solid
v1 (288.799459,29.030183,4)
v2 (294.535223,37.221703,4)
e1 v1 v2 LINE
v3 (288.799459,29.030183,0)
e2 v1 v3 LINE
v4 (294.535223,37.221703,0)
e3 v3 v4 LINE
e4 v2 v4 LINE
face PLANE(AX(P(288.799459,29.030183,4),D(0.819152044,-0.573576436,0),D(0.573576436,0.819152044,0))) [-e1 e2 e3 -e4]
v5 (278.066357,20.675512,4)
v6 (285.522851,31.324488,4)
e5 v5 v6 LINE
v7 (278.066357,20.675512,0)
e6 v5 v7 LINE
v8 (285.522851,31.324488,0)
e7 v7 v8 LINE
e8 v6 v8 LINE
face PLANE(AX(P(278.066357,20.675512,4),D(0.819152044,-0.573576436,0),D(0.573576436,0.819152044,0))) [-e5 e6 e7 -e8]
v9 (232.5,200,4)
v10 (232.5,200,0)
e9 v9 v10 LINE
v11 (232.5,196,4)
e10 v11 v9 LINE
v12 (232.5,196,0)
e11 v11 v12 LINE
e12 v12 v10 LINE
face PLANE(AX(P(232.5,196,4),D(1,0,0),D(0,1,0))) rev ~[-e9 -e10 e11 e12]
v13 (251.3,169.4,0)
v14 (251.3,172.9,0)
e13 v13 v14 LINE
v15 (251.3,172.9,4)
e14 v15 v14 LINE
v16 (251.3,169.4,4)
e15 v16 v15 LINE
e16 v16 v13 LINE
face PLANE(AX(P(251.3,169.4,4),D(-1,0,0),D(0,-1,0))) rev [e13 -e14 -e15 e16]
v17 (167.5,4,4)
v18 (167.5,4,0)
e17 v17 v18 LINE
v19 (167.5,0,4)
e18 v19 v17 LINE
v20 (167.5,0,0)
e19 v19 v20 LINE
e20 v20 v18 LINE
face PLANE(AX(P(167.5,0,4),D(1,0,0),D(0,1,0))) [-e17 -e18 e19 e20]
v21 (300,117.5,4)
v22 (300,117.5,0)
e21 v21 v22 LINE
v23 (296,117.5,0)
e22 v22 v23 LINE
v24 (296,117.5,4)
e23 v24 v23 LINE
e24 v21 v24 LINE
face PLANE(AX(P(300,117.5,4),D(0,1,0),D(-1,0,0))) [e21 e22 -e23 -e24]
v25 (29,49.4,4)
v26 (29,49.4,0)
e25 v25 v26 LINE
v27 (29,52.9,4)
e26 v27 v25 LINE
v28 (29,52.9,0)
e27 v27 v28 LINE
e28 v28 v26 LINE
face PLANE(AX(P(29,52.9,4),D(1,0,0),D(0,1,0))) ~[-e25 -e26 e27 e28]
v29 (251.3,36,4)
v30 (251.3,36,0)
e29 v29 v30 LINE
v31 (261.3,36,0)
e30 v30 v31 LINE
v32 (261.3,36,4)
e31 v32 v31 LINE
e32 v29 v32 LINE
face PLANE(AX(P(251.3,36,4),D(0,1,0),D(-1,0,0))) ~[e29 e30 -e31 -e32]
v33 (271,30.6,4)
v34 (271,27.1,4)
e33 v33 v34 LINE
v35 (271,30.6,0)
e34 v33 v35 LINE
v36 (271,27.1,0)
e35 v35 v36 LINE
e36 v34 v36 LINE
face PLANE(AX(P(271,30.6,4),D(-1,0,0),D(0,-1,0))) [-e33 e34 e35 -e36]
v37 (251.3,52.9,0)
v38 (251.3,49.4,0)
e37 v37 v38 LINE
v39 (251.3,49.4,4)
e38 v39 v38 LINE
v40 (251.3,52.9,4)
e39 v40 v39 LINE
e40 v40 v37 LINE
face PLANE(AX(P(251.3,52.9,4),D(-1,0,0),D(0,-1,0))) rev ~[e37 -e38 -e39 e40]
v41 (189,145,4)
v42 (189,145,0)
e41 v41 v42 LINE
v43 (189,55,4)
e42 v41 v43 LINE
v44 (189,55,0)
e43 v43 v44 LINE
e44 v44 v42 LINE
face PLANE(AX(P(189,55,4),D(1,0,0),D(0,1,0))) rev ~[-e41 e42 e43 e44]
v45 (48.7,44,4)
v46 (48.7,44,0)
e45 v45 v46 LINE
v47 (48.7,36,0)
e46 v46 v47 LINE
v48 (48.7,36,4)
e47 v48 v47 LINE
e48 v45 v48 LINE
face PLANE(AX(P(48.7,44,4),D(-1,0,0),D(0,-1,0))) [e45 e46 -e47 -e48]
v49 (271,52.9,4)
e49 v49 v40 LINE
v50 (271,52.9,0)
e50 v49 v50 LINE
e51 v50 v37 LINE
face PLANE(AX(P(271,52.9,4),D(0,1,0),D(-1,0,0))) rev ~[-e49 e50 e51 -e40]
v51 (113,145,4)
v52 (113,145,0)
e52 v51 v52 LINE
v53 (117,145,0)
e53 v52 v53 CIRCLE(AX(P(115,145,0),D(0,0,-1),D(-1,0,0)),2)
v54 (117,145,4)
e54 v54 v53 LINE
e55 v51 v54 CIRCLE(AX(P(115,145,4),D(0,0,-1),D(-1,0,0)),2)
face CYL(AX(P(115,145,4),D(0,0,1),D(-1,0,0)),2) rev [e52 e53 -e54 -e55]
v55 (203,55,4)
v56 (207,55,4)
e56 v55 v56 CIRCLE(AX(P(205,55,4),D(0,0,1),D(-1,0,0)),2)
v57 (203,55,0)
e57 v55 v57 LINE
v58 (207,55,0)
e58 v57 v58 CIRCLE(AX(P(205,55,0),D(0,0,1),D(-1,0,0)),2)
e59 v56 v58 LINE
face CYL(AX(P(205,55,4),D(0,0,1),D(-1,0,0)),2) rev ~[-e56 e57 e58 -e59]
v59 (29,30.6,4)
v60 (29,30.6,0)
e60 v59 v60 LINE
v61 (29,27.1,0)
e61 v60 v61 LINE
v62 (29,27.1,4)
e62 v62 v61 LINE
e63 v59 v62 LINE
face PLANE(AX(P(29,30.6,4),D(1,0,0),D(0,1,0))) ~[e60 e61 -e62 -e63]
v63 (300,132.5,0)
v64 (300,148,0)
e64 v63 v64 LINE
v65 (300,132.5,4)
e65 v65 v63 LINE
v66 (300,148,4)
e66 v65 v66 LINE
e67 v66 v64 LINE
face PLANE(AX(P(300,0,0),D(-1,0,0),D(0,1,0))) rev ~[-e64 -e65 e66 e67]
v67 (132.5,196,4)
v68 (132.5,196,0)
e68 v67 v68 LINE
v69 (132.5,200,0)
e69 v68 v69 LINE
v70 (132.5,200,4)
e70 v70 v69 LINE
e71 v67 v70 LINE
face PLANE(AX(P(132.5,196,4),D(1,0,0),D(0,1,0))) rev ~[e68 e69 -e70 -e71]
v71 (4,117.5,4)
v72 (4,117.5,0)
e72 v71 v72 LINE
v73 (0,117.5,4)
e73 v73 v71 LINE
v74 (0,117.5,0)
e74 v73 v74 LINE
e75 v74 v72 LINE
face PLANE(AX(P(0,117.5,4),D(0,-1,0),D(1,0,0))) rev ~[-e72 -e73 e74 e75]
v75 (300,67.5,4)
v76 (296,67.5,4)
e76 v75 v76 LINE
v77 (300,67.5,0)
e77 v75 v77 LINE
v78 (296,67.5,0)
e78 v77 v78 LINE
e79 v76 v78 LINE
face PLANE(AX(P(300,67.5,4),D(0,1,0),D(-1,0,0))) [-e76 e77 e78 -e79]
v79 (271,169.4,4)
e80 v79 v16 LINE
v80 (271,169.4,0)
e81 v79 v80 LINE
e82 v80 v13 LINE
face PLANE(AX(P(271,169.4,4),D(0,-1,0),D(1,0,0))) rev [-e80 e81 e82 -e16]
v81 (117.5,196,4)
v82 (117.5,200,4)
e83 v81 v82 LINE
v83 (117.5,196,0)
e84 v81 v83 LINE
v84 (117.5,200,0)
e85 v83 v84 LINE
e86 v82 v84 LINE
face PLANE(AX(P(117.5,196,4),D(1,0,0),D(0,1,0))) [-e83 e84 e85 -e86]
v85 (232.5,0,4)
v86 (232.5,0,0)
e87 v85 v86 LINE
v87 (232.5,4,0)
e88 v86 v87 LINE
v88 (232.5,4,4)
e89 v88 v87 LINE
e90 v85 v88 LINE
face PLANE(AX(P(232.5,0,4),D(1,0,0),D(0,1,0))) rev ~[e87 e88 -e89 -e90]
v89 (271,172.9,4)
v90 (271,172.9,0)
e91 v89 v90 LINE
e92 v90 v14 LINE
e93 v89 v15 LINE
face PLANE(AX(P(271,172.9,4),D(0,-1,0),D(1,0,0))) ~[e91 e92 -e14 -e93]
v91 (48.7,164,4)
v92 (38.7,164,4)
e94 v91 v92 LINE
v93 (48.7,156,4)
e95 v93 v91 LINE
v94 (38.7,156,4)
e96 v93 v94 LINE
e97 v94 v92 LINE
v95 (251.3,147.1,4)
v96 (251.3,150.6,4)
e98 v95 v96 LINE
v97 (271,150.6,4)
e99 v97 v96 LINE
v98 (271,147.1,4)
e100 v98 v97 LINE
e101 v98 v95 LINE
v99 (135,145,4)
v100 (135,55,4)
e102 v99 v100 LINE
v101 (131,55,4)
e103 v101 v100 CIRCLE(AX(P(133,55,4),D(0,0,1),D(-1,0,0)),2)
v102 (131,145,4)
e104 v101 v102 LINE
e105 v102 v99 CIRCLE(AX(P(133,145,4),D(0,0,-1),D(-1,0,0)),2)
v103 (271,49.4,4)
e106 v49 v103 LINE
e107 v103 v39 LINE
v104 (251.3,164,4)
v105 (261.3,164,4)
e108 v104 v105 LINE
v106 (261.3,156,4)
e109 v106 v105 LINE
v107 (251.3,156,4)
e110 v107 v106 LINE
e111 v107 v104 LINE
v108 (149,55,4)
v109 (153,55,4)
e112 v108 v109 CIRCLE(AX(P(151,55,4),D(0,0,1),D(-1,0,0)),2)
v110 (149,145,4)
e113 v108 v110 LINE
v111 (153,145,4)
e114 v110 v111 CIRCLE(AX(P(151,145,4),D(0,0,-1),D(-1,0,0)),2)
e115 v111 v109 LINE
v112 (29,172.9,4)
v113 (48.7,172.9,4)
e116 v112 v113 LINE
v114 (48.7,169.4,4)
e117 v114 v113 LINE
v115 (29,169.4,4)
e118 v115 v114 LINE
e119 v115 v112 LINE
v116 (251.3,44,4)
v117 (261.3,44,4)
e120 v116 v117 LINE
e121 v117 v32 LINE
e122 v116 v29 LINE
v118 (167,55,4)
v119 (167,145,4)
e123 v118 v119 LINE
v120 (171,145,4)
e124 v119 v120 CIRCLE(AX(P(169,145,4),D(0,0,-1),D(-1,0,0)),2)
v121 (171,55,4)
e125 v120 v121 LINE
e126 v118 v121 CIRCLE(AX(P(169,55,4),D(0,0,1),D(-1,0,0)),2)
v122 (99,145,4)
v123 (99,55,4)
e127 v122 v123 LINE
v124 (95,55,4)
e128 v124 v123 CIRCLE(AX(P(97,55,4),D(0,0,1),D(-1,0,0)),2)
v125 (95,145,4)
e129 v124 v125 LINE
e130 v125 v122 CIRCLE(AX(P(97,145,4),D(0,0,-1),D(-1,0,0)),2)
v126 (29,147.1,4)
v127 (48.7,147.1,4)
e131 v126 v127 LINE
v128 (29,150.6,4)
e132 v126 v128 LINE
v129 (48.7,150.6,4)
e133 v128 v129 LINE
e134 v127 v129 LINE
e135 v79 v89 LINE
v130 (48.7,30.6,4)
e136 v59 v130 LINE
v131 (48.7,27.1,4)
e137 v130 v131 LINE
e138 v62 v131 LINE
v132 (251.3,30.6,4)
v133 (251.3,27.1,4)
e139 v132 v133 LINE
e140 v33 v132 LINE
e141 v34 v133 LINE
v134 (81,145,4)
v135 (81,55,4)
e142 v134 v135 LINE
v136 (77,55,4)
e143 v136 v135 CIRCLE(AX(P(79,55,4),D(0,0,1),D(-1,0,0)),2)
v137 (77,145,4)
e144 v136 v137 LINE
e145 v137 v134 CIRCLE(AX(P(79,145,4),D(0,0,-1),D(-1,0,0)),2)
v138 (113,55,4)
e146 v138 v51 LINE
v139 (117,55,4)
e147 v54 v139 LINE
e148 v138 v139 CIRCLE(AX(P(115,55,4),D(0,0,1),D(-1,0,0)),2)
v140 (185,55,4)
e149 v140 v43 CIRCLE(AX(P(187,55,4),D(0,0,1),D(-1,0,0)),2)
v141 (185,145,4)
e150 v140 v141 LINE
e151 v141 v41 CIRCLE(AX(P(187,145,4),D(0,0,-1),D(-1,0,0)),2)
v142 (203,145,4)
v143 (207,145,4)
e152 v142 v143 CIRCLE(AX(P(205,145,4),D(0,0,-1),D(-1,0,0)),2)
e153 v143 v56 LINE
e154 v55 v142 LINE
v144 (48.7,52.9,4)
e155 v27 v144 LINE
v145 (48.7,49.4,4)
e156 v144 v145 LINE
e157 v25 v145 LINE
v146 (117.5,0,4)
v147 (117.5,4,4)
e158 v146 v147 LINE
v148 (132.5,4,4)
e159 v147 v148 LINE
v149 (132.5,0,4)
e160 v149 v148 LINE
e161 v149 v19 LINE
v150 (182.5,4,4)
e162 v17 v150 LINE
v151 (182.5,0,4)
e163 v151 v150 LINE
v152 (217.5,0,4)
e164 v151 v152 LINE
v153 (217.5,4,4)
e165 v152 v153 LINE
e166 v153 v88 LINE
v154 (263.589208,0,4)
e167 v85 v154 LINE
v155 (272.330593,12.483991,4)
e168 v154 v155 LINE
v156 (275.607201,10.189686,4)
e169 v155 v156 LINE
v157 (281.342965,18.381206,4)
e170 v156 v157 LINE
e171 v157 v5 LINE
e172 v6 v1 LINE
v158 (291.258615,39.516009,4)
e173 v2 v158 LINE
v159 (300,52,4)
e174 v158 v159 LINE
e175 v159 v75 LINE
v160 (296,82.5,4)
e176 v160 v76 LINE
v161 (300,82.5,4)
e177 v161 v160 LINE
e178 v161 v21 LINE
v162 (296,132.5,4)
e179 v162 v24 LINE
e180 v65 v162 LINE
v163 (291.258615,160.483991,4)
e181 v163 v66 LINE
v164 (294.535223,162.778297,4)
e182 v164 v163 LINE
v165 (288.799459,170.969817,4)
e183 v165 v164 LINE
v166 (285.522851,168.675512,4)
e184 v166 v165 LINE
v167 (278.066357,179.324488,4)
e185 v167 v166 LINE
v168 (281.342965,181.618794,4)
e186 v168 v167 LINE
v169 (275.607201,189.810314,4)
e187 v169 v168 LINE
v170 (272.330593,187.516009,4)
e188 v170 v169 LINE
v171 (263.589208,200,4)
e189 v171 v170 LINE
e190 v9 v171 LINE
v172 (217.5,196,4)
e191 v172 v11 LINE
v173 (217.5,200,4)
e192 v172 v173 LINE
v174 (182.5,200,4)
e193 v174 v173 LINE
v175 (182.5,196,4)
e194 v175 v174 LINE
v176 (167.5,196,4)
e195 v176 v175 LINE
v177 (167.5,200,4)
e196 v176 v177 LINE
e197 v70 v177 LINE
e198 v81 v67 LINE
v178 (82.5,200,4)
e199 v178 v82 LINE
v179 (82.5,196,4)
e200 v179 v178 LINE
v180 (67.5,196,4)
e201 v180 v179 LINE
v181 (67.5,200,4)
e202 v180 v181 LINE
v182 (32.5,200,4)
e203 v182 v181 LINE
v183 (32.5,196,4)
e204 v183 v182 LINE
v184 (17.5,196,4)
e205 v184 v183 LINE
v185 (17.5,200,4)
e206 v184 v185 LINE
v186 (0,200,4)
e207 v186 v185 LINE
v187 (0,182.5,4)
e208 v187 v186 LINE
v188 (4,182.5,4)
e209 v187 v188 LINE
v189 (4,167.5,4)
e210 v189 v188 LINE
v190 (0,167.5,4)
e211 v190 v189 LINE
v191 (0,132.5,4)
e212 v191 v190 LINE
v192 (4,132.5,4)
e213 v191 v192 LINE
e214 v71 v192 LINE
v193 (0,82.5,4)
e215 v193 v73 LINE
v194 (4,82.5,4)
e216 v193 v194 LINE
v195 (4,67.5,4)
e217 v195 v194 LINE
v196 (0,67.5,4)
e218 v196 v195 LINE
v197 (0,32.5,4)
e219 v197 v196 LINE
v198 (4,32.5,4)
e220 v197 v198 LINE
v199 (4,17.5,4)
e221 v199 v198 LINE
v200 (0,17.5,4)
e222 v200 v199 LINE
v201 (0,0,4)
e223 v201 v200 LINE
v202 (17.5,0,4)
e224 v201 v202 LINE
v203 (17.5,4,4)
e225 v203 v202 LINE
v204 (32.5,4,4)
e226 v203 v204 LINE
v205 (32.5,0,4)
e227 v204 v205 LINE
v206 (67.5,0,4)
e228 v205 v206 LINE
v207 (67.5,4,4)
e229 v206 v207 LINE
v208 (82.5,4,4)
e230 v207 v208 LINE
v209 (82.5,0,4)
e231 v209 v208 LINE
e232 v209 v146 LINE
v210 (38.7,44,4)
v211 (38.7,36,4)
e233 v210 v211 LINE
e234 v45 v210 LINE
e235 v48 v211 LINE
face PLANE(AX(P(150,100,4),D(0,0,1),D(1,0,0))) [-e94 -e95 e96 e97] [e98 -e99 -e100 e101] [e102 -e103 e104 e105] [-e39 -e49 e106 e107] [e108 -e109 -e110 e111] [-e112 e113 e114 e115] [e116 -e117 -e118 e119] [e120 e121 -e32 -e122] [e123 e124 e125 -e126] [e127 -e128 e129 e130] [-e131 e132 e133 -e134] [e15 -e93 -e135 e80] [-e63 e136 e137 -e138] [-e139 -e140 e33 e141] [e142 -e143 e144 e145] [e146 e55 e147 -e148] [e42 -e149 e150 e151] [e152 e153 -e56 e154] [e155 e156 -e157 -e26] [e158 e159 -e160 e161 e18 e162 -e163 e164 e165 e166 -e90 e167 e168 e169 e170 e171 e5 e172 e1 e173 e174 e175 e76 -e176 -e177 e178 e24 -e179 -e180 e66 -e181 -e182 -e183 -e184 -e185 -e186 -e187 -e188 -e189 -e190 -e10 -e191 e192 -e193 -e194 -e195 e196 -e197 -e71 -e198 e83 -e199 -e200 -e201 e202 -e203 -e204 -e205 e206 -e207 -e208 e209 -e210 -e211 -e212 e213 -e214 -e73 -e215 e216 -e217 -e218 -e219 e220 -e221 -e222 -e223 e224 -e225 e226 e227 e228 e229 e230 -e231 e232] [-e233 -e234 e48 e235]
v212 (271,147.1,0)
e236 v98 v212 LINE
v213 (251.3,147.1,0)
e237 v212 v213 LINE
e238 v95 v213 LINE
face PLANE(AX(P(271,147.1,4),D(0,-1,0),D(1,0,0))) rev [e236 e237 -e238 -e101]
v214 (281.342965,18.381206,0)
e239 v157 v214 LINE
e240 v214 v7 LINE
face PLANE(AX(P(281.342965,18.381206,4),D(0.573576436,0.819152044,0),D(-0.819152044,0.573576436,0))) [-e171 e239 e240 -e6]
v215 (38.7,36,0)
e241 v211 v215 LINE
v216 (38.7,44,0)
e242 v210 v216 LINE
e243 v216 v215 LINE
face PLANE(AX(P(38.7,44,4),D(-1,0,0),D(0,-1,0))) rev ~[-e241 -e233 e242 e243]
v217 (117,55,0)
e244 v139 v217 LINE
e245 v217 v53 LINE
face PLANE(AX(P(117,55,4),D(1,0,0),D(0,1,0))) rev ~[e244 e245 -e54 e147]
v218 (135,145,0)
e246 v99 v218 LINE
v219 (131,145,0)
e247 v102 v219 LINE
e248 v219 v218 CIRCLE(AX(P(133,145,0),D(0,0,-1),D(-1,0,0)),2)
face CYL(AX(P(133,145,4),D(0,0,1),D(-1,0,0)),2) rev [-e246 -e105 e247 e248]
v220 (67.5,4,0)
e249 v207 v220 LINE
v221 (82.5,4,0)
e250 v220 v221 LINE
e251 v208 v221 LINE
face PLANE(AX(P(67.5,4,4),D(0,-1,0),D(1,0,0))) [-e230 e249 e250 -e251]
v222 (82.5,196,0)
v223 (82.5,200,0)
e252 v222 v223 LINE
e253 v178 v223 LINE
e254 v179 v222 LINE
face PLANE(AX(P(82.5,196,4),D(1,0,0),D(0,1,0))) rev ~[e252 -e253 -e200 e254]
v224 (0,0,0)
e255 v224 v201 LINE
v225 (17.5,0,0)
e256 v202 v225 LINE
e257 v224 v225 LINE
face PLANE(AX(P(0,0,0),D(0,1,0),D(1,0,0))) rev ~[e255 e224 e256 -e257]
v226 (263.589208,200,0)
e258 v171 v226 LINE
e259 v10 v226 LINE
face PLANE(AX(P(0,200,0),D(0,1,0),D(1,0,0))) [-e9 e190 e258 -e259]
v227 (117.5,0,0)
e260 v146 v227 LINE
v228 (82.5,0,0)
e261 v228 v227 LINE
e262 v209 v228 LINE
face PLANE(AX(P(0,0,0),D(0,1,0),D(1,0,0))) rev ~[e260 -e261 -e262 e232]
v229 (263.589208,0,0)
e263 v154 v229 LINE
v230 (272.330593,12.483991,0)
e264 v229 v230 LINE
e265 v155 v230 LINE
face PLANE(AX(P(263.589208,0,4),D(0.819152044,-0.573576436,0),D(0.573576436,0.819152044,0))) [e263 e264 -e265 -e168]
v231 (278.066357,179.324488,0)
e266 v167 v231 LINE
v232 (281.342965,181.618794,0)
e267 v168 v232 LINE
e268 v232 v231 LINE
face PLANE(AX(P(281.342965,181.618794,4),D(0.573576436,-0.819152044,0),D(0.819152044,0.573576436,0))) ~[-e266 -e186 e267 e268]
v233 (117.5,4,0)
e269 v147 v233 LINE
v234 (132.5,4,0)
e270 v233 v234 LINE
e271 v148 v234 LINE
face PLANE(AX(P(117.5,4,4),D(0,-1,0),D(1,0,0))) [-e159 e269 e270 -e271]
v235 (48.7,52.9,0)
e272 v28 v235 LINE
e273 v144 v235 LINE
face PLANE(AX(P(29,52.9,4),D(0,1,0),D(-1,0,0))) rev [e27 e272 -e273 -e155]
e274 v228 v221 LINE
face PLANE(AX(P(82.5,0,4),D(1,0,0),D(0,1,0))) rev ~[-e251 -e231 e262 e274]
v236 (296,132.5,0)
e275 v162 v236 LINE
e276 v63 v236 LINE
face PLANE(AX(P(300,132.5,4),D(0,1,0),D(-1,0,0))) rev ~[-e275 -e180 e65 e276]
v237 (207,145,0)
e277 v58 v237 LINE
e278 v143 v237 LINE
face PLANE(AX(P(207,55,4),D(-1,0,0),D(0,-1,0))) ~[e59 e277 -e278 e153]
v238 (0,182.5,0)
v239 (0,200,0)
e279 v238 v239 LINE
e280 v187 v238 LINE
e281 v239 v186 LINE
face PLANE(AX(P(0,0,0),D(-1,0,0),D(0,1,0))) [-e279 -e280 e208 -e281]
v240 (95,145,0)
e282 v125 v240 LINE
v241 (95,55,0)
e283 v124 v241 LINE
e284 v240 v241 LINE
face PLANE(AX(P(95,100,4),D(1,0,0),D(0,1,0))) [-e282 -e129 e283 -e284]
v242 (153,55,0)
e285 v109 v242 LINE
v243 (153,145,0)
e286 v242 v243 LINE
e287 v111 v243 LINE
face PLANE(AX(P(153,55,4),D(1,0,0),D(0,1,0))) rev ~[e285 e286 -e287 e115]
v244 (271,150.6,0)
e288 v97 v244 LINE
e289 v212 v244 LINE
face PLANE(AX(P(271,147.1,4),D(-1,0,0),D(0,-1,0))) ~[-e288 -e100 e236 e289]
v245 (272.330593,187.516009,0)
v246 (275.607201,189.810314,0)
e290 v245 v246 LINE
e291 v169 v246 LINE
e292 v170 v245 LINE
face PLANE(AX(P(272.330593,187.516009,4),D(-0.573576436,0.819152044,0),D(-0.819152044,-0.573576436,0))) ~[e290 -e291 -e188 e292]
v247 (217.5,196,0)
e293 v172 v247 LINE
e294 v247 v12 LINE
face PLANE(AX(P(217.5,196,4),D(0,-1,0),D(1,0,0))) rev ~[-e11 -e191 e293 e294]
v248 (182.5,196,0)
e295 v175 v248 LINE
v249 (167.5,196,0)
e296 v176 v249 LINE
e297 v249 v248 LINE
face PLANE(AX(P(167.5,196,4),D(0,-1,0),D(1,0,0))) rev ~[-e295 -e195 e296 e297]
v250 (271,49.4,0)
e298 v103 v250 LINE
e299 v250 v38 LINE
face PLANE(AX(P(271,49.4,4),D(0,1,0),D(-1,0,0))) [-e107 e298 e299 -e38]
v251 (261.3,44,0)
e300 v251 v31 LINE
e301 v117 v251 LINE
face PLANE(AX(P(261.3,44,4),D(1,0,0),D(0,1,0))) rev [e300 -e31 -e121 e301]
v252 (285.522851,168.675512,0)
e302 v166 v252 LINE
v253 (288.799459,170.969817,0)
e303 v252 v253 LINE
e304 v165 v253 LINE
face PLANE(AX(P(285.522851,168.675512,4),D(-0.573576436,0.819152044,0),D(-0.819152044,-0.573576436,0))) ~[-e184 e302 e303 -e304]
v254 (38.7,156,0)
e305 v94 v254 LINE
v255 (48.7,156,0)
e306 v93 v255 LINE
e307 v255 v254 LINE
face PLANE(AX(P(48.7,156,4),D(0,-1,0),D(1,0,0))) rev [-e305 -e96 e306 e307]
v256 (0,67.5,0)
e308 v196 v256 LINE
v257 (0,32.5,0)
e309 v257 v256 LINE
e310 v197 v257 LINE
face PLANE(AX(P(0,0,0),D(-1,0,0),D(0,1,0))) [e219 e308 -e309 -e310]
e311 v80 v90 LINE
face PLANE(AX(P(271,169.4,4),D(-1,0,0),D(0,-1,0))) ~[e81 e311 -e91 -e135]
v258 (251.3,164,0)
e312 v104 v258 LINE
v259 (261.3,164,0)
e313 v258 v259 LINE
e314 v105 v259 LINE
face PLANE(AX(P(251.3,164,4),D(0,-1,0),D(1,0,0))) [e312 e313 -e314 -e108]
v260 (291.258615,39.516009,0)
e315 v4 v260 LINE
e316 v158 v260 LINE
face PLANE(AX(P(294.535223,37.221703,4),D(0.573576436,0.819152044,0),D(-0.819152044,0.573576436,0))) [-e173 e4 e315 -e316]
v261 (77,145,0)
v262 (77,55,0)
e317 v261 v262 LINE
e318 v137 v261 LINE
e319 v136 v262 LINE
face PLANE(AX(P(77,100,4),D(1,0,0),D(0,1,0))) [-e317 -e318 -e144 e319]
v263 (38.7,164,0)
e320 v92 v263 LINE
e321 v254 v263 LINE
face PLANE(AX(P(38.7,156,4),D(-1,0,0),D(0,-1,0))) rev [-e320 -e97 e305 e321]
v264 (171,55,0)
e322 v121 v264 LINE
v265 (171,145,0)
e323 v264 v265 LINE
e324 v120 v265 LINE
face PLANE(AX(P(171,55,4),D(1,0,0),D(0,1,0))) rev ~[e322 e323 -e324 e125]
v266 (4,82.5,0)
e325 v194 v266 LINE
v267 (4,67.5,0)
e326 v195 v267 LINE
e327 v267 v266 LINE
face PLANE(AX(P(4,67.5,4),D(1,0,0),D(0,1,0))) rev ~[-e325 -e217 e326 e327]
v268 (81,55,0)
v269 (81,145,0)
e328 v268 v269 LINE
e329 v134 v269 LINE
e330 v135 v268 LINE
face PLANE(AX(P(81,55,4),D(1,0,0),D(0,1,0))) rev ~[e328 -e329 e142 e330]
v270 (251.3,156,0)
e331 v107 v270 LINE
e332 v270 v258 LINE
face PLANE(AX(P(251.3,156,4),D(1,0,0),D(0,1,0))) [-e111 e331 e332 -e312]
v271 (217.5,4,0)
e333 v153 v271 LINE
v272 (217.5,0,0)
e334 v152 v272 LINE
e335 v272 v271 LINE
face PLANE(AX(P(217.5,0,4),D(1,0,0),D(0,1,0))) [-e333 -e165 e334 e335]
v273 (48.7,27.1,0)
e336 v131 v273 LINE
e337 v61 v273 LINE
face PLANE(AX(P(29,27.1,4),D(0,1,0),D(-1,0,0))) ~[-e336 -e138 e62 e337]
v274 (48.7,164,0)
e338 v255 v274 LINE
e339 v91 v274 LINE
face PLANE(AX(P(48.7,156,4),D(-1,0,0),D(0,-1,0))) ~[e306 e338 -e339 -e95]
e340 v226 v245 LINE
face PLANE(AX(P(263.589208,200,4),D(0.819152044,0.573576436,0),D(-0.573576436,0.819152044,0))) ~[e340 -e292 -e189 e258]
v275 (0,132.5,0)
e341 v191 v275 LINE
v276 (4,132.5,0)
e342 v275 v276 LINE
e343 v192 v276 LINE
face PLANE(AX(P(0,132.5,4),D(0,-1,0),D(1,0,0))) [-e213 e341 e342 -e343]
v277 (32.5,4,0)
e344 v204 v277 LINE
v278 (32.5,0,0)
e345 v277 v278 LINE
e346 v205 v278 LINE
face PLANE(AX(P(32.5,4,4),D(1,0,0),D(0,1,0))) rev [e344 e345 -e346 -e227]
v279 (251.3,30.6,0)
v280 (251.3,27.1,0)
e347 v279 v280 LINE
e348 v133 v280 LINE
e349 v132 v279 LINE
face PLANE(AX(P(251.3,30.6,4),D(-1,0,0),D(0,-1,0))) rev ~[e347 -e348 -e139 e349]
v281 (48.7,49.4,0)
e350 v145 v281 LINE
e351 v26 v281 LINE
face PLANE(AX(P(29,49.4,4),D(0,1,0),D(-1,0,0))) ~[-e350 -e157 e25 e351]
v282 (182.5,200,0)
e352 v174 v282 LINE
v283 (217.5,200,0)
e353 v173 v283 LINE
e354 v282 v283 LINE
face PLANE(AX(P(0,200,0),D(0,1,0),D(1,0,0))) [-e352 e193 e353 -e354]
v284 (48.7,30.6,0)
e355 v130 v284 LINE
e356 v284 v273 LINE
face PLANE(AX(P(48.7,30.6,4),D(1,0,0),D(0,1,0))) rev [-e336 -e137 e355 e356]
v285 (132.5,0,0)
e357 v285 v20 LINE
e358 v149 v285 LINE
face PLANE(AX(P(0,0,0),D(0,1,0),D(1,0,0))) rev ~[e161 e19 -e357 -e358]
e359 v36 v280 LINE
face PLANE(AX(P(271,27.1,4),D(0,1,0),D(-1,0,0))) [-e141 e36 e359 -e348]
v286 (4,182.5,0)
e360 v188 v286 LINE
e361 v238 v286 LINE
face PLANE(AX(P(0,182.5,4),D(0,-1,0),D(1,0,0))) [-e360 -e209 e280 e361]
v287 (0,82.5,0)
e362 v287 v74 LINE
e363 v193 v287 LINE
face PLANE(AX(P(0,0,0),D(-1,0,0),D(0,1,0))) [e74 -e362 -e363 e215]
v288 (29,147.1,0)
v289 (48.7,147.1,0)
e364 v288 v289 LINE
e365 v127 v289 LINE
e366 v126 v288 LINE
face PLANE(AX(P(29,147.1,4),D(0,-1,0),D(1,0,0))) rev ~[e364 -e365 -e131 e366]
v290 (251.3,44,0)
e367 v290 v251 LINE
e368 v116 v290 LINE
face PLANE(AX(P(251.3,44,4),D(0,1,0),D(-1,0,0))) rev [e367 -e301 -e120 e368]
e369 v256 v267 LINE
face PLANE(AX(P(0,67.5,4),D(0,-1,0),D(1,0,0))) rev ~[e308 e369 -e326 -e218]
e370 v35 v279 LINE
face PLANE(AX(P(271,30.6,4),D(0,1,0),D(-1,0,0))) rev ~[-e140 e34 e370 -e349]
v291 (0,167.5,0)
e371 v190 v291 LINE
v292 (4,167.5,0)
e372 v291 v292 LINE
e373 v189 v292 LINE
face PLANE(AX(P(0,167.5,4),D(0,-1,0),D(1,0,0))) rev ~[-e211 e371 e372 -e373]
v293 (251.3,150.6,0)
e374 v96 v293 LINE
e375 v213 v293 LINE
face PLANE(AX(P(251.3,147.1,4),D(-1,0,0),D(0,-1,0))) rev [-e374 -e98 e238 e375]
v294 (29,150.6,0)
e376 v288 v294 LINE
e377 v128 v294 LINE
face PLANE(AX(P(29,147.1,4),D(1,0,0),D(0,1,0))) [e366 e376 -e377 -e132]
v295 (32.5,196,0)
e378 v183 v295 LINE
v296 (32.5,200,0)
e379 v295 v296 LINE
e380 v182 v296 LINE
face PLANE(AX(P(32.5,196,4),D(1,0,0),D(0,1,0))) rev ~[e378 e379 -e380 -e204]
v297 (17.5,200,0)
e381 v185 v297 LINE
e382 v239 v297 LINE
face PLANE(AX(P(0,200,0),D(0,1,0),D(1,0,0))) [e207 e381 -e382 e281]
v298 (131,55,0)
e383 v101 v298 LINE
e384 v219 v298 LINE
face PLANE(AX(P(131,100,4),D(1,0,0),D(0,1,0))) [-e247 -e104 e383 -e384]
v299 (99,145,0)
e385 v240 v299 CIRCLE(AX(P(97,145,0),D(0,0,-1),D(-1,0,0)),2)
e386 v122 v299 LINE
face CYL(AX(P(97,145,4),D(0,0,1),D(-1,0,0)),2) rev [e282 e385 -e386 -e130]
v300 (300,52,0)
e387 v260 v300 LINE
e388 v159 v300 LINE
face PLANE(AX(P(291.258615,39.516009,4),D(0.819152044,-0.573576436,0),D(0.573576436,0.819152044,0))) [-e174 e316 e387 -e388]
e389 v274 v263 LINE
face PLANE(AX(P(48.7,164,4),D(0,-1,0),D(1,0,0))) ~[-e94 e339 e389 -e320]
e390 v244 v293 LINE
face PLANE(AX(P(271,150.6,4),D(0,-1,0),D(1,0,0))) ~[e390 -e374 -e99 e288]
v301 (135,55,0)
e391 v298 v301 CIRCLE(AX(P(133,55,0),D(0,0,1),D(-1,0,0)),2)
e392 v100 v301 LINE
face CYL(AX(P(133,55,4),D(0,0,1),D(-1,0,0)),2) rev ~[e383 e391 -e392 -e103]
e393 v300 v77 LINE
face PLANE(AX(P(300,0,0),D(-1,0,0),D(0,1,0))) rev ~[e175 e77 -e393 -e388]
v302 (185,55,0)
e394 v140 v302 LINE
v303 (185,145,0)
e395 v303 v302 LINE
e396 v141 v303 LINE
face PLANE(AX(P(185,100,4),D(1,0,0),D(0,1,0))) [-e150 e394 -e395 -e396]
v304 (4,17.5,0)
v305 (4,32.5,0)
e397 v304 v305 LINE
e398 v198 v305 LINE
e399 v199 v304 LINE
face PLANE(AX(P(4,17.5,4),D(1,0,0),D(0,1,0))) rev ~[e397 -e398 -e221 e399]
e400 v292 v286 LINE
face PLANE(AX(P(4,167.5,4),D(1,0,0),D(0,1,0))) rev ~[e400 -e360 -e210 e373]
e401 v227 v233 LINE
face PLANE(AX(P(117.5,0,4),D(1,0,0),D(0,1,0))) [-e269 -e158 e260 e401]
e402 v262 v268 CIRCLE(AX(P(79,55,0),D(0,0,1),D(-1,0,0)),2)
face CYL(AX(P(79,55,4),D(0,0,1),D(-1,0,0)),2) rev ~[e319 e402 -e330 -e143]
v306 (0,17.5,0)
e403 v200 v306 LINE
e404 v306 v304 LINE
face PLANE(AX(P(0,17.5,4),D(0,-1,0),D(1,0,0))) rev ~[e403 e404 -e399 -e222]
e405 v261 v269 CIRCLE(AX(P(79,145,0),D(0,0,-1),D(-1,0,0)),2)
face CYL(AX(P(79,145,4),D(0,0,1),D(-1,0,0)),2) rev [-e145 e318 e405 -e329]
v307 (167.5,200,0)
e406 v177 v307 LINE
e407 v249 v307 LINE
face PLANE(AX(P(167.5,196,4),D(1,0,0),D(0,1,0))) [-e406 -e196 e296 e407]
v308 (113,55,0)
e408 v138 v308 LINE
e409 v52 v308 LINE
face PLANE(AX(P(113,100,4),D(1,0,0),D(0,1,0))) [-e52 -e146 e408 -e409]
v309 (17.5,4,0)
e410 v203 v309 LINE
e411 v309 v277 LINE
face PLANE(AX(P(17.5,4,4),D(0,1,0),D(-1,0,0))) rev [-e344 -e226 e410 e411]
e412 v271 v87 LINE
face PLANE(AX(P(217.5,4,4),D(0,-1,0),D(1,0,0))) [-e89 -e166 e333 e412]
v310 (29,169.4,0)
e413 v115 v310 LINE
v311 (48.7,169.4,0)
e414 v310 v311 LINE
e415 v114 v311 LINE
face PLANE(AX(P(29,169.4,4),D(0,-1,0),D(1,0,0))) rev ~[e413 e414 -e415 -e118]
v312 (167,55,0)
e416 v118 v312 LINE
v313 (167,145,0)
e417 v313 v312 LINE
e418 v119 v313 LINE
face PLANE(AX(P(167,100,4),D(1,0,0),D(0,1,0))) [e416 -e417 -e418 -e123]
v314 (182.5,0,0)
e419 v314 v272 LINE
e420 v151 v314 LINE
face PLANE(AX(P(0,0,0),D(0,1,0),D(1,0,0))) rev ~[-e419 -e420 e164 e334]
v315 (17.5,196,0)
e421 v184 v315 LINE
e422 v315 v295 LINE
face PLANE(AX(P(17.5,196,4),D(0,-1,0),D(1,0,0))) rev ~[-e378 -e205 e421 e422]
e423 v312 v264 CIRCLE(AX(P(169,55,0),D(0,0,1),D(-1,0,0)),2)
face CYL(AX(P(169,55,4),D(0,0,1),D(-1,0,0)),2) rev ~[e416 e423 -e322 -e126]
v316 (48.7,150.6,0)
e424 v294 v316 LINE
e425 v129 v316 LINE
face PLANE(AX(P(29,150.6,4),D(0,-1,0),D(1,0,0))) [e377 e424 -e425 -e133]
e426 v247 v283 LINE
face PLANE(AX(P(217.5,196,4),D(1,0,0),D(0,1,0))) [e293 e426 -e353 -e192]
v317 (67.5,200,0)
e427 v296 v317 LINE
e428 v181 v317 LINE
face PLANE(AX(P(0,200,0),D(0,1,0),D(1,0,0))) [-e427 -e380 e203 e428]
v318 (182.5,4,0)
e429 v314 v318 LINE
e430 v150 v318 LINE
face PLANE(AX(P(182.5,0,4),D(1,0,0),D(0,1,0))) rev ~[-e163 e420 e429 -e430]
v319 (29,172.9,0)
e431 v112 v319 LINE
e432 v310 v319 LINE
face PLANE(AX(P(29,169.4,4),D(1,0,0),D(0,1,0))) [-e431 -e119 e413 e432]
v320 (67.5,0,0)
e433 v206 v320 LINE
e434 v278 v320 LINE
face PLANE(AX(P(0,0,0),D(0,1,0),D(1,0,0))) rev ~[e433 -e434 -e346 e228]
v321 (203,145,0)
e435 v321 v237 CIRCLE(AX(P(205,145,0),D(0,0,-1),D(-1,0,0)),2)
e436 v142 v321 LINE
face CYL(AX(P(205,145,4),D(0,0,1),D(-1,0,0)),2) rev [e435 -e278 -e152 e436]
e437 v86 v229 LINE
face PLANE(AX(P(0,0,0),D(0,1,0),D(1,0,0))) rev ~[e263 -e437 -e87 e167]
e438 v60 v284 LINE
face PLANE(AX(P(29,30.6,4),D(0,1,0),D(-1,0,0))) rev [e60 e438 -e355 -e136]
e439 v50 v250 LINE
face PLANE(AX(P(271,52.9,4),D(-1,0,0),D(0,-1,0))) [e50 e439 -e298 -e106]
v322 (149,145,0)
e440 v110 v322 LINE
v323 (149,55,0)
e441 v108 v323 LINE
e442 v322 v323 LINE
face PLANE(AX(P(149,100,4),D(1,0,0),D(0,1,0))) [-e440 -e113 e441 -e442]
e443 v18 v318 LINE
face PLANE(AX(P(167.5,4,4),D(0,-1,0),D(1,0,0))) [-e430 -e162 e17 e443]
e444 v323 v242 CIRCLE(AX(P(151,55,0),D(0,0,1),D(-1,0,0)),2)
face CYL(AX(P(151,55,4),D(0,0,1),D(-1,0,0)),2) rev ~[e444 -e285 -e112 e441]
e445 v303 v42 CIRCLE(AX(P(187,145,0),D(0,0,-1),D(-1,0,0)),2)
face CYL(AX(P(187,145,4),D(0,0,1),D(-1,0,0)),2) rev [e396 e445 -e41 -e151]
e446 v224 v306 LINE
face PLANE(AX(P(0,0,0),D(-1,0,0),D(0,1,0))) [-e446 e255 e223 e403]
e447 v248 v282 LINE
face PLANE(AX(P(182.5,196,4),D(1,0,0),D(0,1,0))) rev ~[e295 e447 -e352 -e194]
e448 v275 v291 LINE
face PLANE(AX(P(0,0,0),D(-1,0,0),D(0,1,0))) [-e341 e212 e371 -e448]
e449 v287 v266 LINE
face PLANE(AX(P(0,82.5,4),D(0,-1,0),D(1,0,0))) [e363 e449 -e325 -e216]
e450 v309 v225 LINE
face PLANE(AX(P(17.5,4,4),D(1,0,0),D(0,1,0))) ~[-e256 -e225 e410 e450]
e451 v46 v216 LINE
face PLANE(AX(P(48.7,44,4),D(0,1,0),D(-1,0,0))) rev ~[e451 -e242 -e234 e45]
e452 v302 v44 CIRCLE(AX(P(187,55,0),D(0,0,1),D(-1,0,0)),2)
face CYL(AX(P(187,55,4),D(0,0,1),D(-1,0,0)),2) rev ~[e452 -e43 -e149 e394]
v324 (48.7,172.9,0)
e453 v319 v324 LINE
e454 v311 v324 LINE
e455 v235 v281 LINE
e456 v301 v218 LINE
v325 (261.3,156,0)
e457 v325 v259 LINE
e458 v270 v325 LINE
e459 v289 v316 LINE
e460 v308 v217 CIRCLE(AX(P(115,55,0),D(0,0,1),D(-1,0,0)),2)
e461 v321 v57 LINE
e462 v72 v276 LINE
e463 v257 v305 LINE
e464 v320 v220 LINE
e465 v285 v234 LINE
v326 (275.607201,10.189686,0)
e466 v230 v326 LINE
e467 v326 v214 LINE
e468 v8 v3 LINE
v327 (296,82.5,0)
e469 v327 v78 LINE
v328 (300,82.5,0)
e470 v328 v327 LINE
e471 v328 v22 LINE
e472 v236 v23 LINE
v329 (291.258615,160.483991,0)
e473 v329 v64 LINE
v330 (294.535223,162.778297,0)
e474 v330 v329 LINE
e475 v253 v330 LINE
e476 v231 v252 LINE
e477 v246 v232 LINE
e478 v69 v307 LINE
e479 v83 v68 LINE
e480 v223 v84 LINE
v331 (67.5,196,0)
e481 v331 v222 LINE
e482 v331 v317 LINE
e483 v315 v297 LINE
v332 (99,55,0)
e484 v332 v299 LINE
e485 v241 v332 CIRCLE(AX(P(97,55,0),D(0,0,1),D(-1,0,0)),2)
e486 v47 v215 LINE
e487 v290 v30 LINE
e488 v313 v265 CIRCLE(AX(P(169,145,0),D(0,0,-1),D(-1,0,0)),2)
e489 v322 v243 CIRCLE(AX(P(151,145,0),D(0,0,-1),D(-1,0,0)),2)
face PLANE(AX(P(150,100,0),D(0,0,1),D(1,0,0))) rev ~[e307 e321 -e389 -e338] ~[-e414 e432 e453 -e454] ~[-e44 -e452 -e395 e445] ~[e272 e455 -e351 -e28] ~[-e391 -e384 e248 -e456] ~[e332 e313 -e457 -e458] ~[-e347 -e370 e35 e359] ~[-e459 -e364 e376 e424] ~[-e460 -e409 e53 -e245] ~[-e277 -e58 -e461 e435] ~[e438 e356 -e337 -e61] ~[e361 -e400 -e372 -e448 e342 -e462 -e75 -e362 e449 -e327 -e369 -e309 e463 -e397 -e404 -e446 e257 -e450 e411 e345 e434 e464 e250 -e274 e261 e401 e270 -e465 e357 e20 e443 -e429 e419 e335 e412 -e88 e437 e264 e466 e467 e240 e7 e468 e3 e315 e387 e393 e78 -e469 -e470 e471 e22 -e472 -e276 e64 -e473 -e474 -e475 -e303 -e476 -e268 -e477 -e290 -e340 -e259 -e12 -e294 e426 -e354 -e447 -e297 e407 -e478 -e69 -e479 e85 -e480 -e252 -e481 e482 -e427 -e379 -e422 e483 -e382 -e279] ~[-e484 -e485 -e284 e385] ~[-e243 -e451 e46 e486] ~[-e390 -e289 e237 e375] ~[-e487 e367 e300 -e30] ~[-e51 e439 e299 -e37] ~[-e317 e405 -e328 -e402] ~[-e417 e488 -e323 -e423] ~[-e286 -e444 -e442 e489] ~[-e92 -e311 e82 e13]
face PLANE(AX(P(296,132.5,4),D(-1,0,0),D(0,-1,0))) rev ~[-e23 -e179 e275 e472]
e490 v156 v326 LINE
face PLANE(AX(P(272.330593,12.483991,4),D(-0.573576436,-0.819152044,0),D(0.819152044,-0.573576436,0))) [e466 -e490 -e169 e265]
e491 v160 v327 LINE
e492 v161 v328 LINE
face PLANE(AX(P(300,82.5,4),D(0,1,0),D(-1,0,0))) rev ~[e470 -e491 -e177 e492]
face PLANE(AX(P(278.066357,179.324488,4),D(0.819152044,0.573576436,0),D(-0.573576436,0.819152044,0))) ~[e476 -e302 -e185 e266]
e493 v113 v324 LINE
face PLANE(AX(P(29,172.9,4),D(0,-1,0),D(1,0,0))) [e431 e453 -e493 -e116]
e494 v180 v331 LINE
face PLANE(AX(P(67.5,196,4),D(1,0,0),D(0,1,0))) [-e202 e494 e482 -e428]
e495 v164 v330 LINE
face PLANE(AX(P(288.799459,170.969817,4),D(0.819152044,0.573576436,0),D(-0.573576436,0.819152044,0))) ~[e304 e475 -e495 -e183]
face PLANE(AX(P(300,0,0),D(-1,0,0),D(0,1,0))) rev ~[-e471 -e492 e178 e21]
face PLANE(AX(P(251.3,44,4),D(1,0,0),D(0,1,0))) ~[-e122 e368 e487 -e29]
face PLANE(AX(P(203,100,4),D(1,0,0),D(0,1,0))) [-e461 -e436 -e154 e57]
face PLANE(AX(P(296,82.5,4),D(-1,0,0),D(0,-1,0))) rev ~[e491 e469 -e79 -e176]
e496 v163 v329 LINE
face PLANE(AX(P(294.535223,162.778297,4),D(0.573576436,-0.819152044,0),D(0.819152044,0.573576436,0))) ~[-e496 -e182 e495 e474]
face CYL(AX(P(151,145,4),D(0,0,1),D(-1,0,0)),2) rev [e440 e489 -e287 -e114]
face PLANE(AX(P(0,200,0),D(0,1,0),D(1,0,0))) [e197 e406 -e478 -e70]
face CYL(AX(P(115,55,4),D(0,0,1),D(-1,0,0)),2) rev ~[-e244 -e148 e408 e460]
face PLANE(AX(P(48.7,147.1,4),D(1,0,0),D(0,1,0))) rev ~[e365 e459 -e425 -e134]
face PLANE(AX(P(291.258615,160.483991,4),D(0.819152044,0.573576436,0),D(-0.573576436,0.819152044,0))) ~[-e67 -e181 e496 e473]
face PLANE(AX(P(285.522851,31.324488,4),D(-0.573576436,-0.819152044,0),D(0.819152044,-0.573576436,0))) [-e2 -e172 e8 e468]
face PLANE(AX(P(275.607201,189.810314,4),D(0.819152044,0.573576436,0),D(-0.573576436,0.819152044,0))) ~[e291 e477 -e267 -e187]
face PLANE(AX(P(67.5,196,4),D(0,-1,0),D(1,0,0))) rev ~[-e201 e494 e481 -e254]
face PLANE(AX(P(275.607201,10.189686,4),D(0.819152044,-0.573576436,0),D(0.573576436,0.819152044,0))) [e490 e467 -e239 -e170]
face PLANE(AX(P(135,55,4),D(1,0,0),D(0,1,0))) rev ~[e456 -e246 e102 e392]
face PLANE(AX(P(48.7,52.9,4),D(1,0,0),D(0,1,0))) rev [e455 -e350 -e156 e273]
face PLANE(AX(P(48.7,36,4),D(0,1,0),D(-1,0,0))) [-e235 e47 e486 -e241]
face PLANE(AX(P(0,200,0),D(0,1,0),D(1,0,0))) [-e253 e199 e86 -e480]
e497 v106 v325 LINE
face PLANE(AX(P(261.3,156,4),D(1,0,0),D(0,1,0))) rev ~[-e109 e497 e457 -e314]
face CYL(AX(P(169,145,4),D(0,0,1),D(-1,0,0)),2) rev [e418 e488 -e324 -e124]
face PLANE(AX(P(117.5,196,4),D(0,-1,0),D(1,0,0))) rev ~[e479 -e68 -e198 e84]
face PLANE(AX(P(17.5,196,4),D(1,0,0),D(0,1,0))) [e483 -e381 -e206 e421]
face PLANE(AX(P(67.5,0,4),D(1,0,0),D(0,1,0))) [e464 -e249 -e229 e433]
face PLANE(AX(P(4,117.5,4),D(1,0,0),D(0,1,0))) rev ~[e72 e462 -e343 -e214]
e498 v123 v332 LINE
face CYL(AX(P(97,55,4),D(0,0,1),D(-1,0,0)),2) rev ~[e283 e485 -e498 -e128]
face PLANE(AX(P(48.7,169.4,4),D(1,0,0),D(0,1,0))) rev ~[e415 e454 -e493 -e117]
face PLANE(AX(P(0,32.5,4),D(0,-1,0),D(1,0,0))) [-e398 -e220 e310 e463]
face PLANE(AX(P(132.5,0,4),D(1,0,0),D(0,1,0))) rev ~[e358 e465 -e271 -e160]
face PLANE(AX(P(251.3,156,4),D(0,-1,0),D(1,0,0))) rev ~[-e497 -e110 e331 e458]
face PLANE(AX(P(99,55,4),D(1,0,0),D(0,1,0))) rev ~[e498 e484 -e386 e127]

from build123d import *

# Parameters (mm, degrees)
SKIZZE2_W                       = 300
SKIZZE2_H                       = 200
AUFSATZ_LINEAR_AUSTRAGEN1_DEPTH = 4
SKIZZE3_W                       = 15
SKIZZE3_H                       = 4
SCHNITT_LINEAR_AUSTRAGEN1_DEPTH = 4
LINEARES_MUSTER1_COUNT          = 6
LINEARES_MUSTER1_PITCH          = 50
SPIEGELN1_COPY_1_SKETCH_W       = 15
SPIEGELN1_COPY_1_SKETCH_H       = 4
SPIEGELN1_COPY_1_DEPTH          = 4
SPIEGELN1_COPY_2_SKETCH_W       = 15
SPIEGELN1_COPY_2_SKETCH_H       = 4
SPIEGELN1_COPY_2_DEPTH          = 4
SPIEGELN1_COPY_3_SKETCH_W       = 15
SPIEGELN1_COPY_3_SKETCH_H       = 4
SPIEGELN1_COPY_3_DEPTH          = 4
SPIEGELN1_COPY_4_SKETCH_W       = 15
SPIEGELN1_COPY_4_SKETCH_H       = 4
SPIEGELN1_COPY_4_DEPTH          = 4
SPIEGELN1_COPY_5_SKETCH_W       = 15
SPIEGELN1_COPY_5_SKETCH_H       = 4
SPIEGELN1_COPY_5_DEPTH          = 4
SKIZZE4_W                       = 4
SKIZZE4_H                       = 15
SCHNITT_LINEAR_AUSTRAGEN2_DEPTH = 4
LINEARES_MUSTER2_COUNT          = 4
LINEARES_MUSTER2_PITCH          = 50
SPIEGELN2_COPY_1_SKETCH_W       = 4
SPIEGELN2_COPY_1_SKETCH_H       = 15
SPIEGELN2_COPY_1_DEPTH          = 4
SPIEGELN2_COPY_2_SKETCH_W       = 4
SPIEGELN2_COPY_2_SKETCH_H       = 15
SPIEGELN2_COPY_2_DEPTH          = 4
SPIEGELN2_COPY_3_SKETCH_W       = 4
SPIEGELN2_COPY_3_SKETCH_H       = 15
SPIEGELN2_COPY_3_DEPTH          = 4
SKIZZE5_W                       = 19.7
SKIZZE5_H                       = 3.5
SCHNITT_LINEAR_AUSTRAGEN3_DEPTH = 4
SPIEGELN4_COPY_1_SKETCH_W       = 19.7
SPIEGELN4_COPY_1_SKETCH_H       = 3.5
SPIEGELN4_COPY_1_DEPTH          = 4
SCHNITT_LINEAR_AUSTRAGEN4_DEPTH = 4
SKIZZE8_W                       = 10
SKIZZE8_H                       = 8
SCHNITT_LINEAR_AUSTRAGEN5_DEPTH = 4
SPIEGELN7_COPY_1_SKETCH_W       = 10
SPIEGELN7_COPY_1_SKETCH_H       = 8
SPIEGELN7_COPY_1_DEPTH          = 4
SCHNITT_LINEAR_AUSTRAGEN6_DEPTH = 4
LINEARES_MUSTER3_COUNT          = 8
LINEARES_MUSTER3_PITCH          = 18
LINEARES_MUSTER3_COPY_1_DEPTH   = 4
LINEARES_MUSTER3_COPY_2_DEPTH   = 4
LINEARES_MUSTER3_COPY_3_DEPTH   = 4
LINEARES_MUSTER3_COPY_4_DEPTH   = 4
LINEARES_MUSTER3_COPY_5_DEPTH   = 4
LINEARES_MUSTER3_COPY_6_DEPTH   = 4
LINEARES_MUSTER3_COPY_7_DEPTH   = 4


with BuildPart() as part:
    # Skizze2 → Aufsatz-Linear austragen1 (new body)
    with BuildSketch(Plane.XY):
        with Locations((150, 100)):
            Rectangle(SKIZZE2_W, SKIZZE2_H)
    extrude(amount=AUFSATZ_LINEAR_AUSTRAGEN1_DEPTH)

    # Skizze3 → Schnitt-Linear austragen1 (cut)
    with BuildSketch(Plane.XY.offset(4)):
        with Locations((25, 198)):
            Rectangle(SKIZZE3_W, SKIZZE3_H)
    schnitt_linear_austragen1 = extrude(amount=-SCHNITT_LINEAR_AUSTRAGEN1_DEPTH, mode=Mode.SUBTRACT)

    # Lineares Muster1: Schnitt-Linear austragen1 ×6
    with Locations(*[(i * LINEARES_MUSTER1_PITCH, 0, 0) for i in range(1, LINEARES_MUSTER1_COUNT)]):
        add(schnitt_linear_austragen1, mode=Mode.SUBTRACT)

    # Spiegeln1: Schnitt-Linear austragen1 across plane
    add(schnitt_linear_austragen1.mirror(Plane.ZX.offset(100)), mode=Mode.SUBTRACT)

    # Spiegeln1 copy 1 sketch → Spiegeln1 copy 1 (cut)
    with BuildSketch(Plane(origin=(50, 200, 4), x_dir=(1, 0, 0), z_dir=(0, 0, 1))):
        with Locations((25, -198)):
            Rectangle(SPIEGELN1_COPY_1_SKETCH_W, SPIEGELN1_COPY_1_SKETCH_H)
    extrude(amount=-SPIEGELN1_COPY_1_DEPTH, mode=Mode.SUBTRACT)

    # Spiegeln1 copy 2 sketch → Spiegeln1 copy 2 (cut)
    with BuildSketch(Plane(origin=(100, 200, 4), x_dir=(1, 0, 0), z_dir=(0, 0, 1))):
        with Locations((25, -198)):
            Rectangle(SPIEGELN1_COPY_2_SKETCH_W, SPIEGELN1_COPY_2_SKETCH_H)
    extrude(amount=-SPIEGELN1_COPY_2_DEPTH, mode=Mode.SUBTRACT)

    # Spiegeln1 copy 3 sketch → Spiegeln1 copy 3 (cut)
    with BuildSketch(Plane(origin=(150, 200, 4), x_dir=(1, 0, 0), z_dir=(0, 0, 1))):
        with Locations((25, -198)):
            Rectangle(SPIEGELN1_COPY_3_SKETCH_W, SPIEGELN1_COPY_3_SKETCH_H)
    extrude(amount=-SPIEGELN1_COPY_3_DEPTH, mode=Mode.SUBTRACT)

    # Spiegeln1 copy 4 sketch → Spiegeln1 copy 4 (cut)
    with BuildSketch(Plane(origin=(200, 200, 4), x_dir=(1, 0, 0), z_dir=(0, 0, 1))):
        with Locations((25, -198)):
            Rectangle(SPIEGELN1_COPY_4_SKETCH_W, SPIEGELN1_COPY_4_SKETCH_H)
    extrude(amount=-SPIEGELN1_COPY_4_DEPTH, mode=Mode.SUBTRACT)

    # Spiegeln1 copy 5 sketch → Spiegeln1 copy 5 (cut)
    with BuildSketch(Plane(origin=(250, 200, 4), x_dir=(1, 0, 0), z_dir=(0, 0, 1))):
        with Locations((25, -198)):
            Rectangle(SPIEGELN1_COPY_5_SKETCH_W, SPIEGELN1_COPY_5_SKETCH_H)
    extrude(amount=-SPIEGELN1_COPY_5_DEPTH, mode=Mode.SUBTRACT)

    # Skizze4 → Schnitt-Linear austragen2 (cut)
    with BuildSketch(Plane.XY.offset(4)):
        with Locations((2, 175)):
            Rectangle(SKIZZE4_W, SKIZZE4_H)
    schnitt_linear_austragen2 = extrude(amount=-SCHNITT_LINEAR_AUSTRAGEN2_DEPTH, mode=Mode.SUBTRACT)

    # Lineares Muster2: Schnitt-Linear austragen2 ×4
    with Locations(*[(0, -i * LINEARES_MUSTER2_PITCH, 0) for i in range(1, LINEARES_MUSTER2_COUNT)]):
        add(schnitt_linear_austragen2, mode=Mode.SUBTRACT)

    # Spiegeln2: Schnitt-Linear austragen2 across plane
    add(schnitt_linear_austragen2.mirror(Plane.ZY.offset(-150)), mode=Mode.SUBTRACT)

    # Spiegeln2 copy 1 sketch → Spiegeln2 copy 1 (cut)
    with BuildSketch(Plane(origin=(300, -50, 4), x_dir=(-1, 0, 0), z_dir=(0, 0, 1))):
        with Locations((2, -175)):
            Rectangle(SPIEGELN2_COPY_1_SKETCH_W, SPIEGELN2_COPY_1_SKETCH_H)
    extrude(amount=-SPIEGELN2_COPY_1_DEPTH, mode=Mode.SUBTRACT)

    # Spiegeln2 copy 2 sketch → Spiegeln2 copy 2 (cut)
    with BuildSketch(Plane(origin=(300, -100, 4), x_dir=(-1, 0, 0), z_dir=(0, 0, 1))):
        with Locations((2, -175)):
            Rectangle(SPIEGELN2_COPY_2_SKETCH_W, SPIEGELN2_COPY_2_SKETCH_H)
    extrude(amount=-SPIEGELN2_COPY_2_DEPTH, mode=Mode.SUBTRACT)

    # Spiegeln2 copy 3 sketch → Spiegeln2 copy 3 (cut)
    with BuildSketch(Plane(origin=(300, -150, 4), x_dir=(-1, 0, 0), z_dir=(0, 0, 1))):
        with Locations((2, -175)):
            Rectangle(SPIEGELN2_COPY_3_SKETCH_W, SPIEGELN2_COPY_3_SKETCH_H)
    extrude(amount=-SPIEGELN2_COPY_3_DEPTH, mode=Mode.SUBTRACT)

    # Skizze5 → Schnitt-Linear austragen3 (cut)
    with BuildSketch(Plane.XY.offset(4)):
        with Locations((38.85, 171.15)):
            Rectangle(SKIZZE5_W, SKIZZE5_H)
        with Locations((38.85, 148.85)):
            Rectangle(SKIZZE5_W, SKIZZE5_H)
    schnitt_linear_austragen3 = extrude(amount=-SCHNITT_LINEAR_AUSTRAGEN3_DEPTH, mode=Mode.SUBTRACT)

    # Spiegeln3: Schnitt-Linear austragen3 across plane
    add(schnitt_linear_austragen3.mirror(Plane.ZY.offset(-150)), mode=Mode.SUBTRACT)

    # Spiegeln4: Schnitt-Linear austragen3 across plane
    add(schnitt_linear_austragen3.mirror(Plane.ZX.offset(100)), mode=Mode.SUBTRACT)

    # Spiegeln4 copy 1 sketch → Spiegeln4 copy 1 (cut)
    with BuildSketch(Plane(origin=(300, 200, 4), x_dir=(-1, 0, 0), z_dir=(0, 0, 1))):
        with Locations((38.85, 171.15)):
            Rectangle(SPIEGELN4_COPY_1_SKETCH_W, SPIEGELN4_COPY_1_SKETCH_H)
        with Locations((38.85, 148.85)):
            Rectangle(SPIEGELN4_COPY_1_SKETCH_W, SPIEGELN4_COPY_1_SKETCH_H)
    extrude(amount=-SPIEGELN4_COPY_1_DEPTH, mode=Mode.SUBTRACT)

    # Skizze7 → Schnitt-Linear austragen4 (cut)
    with BuildSketch(Plane.XY.offset(4)):
        Polygon((263.589208013, 0), (272.330592807, 12.483991269), (275.607200984, 10.189685524), (281.342965347, 18.381205967), (278.06635717, 20.675511712), (285.522850843, 31.324488288), (288.79945902, 29.030182542), (294.535223383, 37.221702985), (291.258615206, 39.516008731), (300, 52), (300, 0), align=None)
    schnitt_linear_austragen4 = extrude(amount=-SCHNITT_LINEAR_AUSTRAGEN4_DEPTH, mode=Mode.SUBTRACT)

    # Spiegeln5: Schnitt-Linear austragen4 across plane
    add(schnitt_linear_austragen4.mirror(Plane.ZX.offset(100)), mode=Mode.SUBTRACT)

    # Skizze8 → Schnitt-Linear austragen5 (cut)
    with BuildSketch(Plane.XY.offset(4)):
        with Locations((256.3, 160)):
            Rectangle(SKIZZE8_W, SKIZZE8_H)
    schnitt_linear_austragen5 = extrude(amount=-SCHNITT_LINEAR_AUSTRAGEN5_DEPTH, mode=Mode.SUBTRACT)

    # Spiegeln6: Schnitt-Linear austragen5 across plane
    add(schnitt_linear_austragen5.mirror(Plane.ZY.offset(-150)), mode=Mode.SUBTRACT)

    # Spiegeln7: Schnitt-Linear austragen5 across plane
    add(schnitt_linear_austragen5.mirror(Plane.ZX.offset(100)), mode=Mode.SUBTRACT)

    # Spiegeln7 copy 1 sketch → Spiegeln7 copy 1 (cut)
    with BuildSketch(Plane(origin=(300, 200, 4), x_dir=(-1, 0, 0), z_dir=(0, 0, 1))):
        with Locations((256.3, 160)):
            Rectangle(SPIEGELN7_COPY_1_SKETCH_W, SPIEGELN7_COPY_1_SKETCH_H)
    extrude(amount=-SPIEGELN7_COPY_1_DEPTH, mode=Mode.SUBTRACT)

    # Skizze9 → Schnitt-Linear austragen6 (cut)
    with BuildSketch(Plane.XY.offset(4)):
        with BuildLine():
            Line((207, 100), (203, 100))
            Line((203, 100), (203, 145))
            ThreePointArc((203, 145), (205, 147), (207, 145))
            Line((207, 145), (207, 100))
        make_face()
    schnitt_linear_austragen6 = extrude(amount=-SCHNITT_LINEAR_AUSTRAGEN6_DEPTH, mode=Mode.SUBTRACT)

    # Spiegeln8: Schnitt-Linear austragen6 across plane
    add(schnitt_linear_austragen6.mirror(Plane.ZX.offset(100)), mode=Mode.SUBTRACT)

    # Lineares Muster3: Schnitt-Linear austragen6 ×8
    with Locations(*[(-i * LINEARES_MUSTER3_PITCH, 0, 0) for i in range(1, LINEARES_MUSTER3_COUNT)]):
        add(schnitt_linear_austragen6, mode=Mode.SUBTRACT)

    # Lineares Muster3 copy 1 sketch → Lineares Muster3 copy 1 (cut)
    with BuildSketch(Plane(origin=(-18, 200, 4), x_dir=(1, 0, 0), z_dir=(0, 0, 1))):
        with BuildLine():
            Line((207, -100), (203, -100))
            Line((203, -100), (203, -145))
            ThreePointArc((203, -145), (205, -147), (207, -145))
            Line((207, -145), (207, -100))
        make_face()
    extrude(amount=-LINEARES_MUSTER3_COPY_1_DEPTH, mode=Mode.SUBTRACT)

    # Lineares Muster3 copy 2 sketch → Lineares Muster3 copy 2 (cut)
    with BuildSketch(Plane(origin=(-36, 200, 4), x_dir=(1, 0, 0), z_dir=(0, 0, 1))):
        with BuildLine():
            Line((207, -100), (203, -100))
            Line((203, -100), (203, -145))
            ThreePointArc((203, -145), (205, -147), (207, -145))
            Line((207, -145), (207, -100))
        make_face()
    extrude(amount=-LINEARES_MUSTER3_COPY_2_DEPTH, mode=Mode.SUBTRACT)

    # Lineares Muster3 copy 3 sketch → Lineares Muster3 copy 3 (cut)
    with BuildSketch(Plane(origin=(-54, 200, 4), x_dir=(1, 0, 0), z_dir=(0, 0, 1))):
        with BuildLine():
            Line((207, -100), (203, -100))
            Line((203, -100), (203, -145))
            ThreePointArc((203, -145), (205, -147), (207, -145))
            Line((207, -145), (207, -100))
        make_face()
    extrude(amount=-LINEARES_MUSTER3_COPY_3_DEPTH, mode=Mode.SUBTRACT)

    # Lineares Muster3 copy 4 sketch → Lineares Muster3 copy 4 (cut)
    with BuildSketch(Plane(origin=(-72, 200, 4), x_dir=(1, 0, 0), z_dir=(0, 0, 1))):
        with BuildLine():
            Line((207, -100), (203, -100))
            Line((203, -100), (203, -145))
            ThreePointArc((203, -145), (205, -147), (207, -145))
            Line((207, -145), (207, -100))
        make_face()
    extrude(amount=-LINEARES_MUSTER3_COPY_4_DEPTH, mode=Mode.SUBTRACT)

    # Lineares Muster3 copy 5 sketch → Lineares Muster3 copy 5 (cut)
    with BuildSketch(Plane(origin=(-90, 200, 4), x_dir=(1, 0, 0), z_dir=(0, 0, 1))):
        with BuildLine():
            Line((207, -100), (203, -100))
            Line((203, -100), (203, -145))
            ThreePointArc((203, -145), (205, -147), (207, -145))
            Line((207, -145), (207, -100))
        make_face()
    extrude(amount=-LINEARES_MUSTER3_COPY_5_DEPTH, mode=Mode.SUBTRACT)

    # Lineares Muster3 copy 6 sketch → Lineares Muster3 copy 6 (cut)
    with BuildSketch(Plane(origin=(-108, 200, 4), x_dir=(1, 0, 0), z_dir=(0, 0, 1))):
        with BuildLine():
            Line((207, -100), (203, -100))
            Line((203, -100), (203, -145))
            ThreePointArc((203, -145), (205, -147), (207, -145))
            Line((207, -145), (207, -100))
        make_face()
    extrude(amount=-LINEARES_MUSTER3_COPY_6_DEPTH, mode=Mode.SUBTRACT)

    # Lineares Muster3 copy 7 sketch → Lineares Muster3 copy 7 (cut)
    with BuildSketch(Plane(origin=(-126, 200, 4), x_dir=(1, 0, 0), z_dir=(0, 0, 1))):
        with BuildLine():
            Line((207, -100), (203, -100))
            Line((203, -100), (203, -145))
            ThreePointArc((203, -145), (205, -147), (207, -145))
            Line((207, -145), (207, -100))
        make_face()
    extrude(amount=-LINEARES_MUSTER3_COPY_7_DEPTH, mode=Mode.SUBTRACT)


solid = part.part
